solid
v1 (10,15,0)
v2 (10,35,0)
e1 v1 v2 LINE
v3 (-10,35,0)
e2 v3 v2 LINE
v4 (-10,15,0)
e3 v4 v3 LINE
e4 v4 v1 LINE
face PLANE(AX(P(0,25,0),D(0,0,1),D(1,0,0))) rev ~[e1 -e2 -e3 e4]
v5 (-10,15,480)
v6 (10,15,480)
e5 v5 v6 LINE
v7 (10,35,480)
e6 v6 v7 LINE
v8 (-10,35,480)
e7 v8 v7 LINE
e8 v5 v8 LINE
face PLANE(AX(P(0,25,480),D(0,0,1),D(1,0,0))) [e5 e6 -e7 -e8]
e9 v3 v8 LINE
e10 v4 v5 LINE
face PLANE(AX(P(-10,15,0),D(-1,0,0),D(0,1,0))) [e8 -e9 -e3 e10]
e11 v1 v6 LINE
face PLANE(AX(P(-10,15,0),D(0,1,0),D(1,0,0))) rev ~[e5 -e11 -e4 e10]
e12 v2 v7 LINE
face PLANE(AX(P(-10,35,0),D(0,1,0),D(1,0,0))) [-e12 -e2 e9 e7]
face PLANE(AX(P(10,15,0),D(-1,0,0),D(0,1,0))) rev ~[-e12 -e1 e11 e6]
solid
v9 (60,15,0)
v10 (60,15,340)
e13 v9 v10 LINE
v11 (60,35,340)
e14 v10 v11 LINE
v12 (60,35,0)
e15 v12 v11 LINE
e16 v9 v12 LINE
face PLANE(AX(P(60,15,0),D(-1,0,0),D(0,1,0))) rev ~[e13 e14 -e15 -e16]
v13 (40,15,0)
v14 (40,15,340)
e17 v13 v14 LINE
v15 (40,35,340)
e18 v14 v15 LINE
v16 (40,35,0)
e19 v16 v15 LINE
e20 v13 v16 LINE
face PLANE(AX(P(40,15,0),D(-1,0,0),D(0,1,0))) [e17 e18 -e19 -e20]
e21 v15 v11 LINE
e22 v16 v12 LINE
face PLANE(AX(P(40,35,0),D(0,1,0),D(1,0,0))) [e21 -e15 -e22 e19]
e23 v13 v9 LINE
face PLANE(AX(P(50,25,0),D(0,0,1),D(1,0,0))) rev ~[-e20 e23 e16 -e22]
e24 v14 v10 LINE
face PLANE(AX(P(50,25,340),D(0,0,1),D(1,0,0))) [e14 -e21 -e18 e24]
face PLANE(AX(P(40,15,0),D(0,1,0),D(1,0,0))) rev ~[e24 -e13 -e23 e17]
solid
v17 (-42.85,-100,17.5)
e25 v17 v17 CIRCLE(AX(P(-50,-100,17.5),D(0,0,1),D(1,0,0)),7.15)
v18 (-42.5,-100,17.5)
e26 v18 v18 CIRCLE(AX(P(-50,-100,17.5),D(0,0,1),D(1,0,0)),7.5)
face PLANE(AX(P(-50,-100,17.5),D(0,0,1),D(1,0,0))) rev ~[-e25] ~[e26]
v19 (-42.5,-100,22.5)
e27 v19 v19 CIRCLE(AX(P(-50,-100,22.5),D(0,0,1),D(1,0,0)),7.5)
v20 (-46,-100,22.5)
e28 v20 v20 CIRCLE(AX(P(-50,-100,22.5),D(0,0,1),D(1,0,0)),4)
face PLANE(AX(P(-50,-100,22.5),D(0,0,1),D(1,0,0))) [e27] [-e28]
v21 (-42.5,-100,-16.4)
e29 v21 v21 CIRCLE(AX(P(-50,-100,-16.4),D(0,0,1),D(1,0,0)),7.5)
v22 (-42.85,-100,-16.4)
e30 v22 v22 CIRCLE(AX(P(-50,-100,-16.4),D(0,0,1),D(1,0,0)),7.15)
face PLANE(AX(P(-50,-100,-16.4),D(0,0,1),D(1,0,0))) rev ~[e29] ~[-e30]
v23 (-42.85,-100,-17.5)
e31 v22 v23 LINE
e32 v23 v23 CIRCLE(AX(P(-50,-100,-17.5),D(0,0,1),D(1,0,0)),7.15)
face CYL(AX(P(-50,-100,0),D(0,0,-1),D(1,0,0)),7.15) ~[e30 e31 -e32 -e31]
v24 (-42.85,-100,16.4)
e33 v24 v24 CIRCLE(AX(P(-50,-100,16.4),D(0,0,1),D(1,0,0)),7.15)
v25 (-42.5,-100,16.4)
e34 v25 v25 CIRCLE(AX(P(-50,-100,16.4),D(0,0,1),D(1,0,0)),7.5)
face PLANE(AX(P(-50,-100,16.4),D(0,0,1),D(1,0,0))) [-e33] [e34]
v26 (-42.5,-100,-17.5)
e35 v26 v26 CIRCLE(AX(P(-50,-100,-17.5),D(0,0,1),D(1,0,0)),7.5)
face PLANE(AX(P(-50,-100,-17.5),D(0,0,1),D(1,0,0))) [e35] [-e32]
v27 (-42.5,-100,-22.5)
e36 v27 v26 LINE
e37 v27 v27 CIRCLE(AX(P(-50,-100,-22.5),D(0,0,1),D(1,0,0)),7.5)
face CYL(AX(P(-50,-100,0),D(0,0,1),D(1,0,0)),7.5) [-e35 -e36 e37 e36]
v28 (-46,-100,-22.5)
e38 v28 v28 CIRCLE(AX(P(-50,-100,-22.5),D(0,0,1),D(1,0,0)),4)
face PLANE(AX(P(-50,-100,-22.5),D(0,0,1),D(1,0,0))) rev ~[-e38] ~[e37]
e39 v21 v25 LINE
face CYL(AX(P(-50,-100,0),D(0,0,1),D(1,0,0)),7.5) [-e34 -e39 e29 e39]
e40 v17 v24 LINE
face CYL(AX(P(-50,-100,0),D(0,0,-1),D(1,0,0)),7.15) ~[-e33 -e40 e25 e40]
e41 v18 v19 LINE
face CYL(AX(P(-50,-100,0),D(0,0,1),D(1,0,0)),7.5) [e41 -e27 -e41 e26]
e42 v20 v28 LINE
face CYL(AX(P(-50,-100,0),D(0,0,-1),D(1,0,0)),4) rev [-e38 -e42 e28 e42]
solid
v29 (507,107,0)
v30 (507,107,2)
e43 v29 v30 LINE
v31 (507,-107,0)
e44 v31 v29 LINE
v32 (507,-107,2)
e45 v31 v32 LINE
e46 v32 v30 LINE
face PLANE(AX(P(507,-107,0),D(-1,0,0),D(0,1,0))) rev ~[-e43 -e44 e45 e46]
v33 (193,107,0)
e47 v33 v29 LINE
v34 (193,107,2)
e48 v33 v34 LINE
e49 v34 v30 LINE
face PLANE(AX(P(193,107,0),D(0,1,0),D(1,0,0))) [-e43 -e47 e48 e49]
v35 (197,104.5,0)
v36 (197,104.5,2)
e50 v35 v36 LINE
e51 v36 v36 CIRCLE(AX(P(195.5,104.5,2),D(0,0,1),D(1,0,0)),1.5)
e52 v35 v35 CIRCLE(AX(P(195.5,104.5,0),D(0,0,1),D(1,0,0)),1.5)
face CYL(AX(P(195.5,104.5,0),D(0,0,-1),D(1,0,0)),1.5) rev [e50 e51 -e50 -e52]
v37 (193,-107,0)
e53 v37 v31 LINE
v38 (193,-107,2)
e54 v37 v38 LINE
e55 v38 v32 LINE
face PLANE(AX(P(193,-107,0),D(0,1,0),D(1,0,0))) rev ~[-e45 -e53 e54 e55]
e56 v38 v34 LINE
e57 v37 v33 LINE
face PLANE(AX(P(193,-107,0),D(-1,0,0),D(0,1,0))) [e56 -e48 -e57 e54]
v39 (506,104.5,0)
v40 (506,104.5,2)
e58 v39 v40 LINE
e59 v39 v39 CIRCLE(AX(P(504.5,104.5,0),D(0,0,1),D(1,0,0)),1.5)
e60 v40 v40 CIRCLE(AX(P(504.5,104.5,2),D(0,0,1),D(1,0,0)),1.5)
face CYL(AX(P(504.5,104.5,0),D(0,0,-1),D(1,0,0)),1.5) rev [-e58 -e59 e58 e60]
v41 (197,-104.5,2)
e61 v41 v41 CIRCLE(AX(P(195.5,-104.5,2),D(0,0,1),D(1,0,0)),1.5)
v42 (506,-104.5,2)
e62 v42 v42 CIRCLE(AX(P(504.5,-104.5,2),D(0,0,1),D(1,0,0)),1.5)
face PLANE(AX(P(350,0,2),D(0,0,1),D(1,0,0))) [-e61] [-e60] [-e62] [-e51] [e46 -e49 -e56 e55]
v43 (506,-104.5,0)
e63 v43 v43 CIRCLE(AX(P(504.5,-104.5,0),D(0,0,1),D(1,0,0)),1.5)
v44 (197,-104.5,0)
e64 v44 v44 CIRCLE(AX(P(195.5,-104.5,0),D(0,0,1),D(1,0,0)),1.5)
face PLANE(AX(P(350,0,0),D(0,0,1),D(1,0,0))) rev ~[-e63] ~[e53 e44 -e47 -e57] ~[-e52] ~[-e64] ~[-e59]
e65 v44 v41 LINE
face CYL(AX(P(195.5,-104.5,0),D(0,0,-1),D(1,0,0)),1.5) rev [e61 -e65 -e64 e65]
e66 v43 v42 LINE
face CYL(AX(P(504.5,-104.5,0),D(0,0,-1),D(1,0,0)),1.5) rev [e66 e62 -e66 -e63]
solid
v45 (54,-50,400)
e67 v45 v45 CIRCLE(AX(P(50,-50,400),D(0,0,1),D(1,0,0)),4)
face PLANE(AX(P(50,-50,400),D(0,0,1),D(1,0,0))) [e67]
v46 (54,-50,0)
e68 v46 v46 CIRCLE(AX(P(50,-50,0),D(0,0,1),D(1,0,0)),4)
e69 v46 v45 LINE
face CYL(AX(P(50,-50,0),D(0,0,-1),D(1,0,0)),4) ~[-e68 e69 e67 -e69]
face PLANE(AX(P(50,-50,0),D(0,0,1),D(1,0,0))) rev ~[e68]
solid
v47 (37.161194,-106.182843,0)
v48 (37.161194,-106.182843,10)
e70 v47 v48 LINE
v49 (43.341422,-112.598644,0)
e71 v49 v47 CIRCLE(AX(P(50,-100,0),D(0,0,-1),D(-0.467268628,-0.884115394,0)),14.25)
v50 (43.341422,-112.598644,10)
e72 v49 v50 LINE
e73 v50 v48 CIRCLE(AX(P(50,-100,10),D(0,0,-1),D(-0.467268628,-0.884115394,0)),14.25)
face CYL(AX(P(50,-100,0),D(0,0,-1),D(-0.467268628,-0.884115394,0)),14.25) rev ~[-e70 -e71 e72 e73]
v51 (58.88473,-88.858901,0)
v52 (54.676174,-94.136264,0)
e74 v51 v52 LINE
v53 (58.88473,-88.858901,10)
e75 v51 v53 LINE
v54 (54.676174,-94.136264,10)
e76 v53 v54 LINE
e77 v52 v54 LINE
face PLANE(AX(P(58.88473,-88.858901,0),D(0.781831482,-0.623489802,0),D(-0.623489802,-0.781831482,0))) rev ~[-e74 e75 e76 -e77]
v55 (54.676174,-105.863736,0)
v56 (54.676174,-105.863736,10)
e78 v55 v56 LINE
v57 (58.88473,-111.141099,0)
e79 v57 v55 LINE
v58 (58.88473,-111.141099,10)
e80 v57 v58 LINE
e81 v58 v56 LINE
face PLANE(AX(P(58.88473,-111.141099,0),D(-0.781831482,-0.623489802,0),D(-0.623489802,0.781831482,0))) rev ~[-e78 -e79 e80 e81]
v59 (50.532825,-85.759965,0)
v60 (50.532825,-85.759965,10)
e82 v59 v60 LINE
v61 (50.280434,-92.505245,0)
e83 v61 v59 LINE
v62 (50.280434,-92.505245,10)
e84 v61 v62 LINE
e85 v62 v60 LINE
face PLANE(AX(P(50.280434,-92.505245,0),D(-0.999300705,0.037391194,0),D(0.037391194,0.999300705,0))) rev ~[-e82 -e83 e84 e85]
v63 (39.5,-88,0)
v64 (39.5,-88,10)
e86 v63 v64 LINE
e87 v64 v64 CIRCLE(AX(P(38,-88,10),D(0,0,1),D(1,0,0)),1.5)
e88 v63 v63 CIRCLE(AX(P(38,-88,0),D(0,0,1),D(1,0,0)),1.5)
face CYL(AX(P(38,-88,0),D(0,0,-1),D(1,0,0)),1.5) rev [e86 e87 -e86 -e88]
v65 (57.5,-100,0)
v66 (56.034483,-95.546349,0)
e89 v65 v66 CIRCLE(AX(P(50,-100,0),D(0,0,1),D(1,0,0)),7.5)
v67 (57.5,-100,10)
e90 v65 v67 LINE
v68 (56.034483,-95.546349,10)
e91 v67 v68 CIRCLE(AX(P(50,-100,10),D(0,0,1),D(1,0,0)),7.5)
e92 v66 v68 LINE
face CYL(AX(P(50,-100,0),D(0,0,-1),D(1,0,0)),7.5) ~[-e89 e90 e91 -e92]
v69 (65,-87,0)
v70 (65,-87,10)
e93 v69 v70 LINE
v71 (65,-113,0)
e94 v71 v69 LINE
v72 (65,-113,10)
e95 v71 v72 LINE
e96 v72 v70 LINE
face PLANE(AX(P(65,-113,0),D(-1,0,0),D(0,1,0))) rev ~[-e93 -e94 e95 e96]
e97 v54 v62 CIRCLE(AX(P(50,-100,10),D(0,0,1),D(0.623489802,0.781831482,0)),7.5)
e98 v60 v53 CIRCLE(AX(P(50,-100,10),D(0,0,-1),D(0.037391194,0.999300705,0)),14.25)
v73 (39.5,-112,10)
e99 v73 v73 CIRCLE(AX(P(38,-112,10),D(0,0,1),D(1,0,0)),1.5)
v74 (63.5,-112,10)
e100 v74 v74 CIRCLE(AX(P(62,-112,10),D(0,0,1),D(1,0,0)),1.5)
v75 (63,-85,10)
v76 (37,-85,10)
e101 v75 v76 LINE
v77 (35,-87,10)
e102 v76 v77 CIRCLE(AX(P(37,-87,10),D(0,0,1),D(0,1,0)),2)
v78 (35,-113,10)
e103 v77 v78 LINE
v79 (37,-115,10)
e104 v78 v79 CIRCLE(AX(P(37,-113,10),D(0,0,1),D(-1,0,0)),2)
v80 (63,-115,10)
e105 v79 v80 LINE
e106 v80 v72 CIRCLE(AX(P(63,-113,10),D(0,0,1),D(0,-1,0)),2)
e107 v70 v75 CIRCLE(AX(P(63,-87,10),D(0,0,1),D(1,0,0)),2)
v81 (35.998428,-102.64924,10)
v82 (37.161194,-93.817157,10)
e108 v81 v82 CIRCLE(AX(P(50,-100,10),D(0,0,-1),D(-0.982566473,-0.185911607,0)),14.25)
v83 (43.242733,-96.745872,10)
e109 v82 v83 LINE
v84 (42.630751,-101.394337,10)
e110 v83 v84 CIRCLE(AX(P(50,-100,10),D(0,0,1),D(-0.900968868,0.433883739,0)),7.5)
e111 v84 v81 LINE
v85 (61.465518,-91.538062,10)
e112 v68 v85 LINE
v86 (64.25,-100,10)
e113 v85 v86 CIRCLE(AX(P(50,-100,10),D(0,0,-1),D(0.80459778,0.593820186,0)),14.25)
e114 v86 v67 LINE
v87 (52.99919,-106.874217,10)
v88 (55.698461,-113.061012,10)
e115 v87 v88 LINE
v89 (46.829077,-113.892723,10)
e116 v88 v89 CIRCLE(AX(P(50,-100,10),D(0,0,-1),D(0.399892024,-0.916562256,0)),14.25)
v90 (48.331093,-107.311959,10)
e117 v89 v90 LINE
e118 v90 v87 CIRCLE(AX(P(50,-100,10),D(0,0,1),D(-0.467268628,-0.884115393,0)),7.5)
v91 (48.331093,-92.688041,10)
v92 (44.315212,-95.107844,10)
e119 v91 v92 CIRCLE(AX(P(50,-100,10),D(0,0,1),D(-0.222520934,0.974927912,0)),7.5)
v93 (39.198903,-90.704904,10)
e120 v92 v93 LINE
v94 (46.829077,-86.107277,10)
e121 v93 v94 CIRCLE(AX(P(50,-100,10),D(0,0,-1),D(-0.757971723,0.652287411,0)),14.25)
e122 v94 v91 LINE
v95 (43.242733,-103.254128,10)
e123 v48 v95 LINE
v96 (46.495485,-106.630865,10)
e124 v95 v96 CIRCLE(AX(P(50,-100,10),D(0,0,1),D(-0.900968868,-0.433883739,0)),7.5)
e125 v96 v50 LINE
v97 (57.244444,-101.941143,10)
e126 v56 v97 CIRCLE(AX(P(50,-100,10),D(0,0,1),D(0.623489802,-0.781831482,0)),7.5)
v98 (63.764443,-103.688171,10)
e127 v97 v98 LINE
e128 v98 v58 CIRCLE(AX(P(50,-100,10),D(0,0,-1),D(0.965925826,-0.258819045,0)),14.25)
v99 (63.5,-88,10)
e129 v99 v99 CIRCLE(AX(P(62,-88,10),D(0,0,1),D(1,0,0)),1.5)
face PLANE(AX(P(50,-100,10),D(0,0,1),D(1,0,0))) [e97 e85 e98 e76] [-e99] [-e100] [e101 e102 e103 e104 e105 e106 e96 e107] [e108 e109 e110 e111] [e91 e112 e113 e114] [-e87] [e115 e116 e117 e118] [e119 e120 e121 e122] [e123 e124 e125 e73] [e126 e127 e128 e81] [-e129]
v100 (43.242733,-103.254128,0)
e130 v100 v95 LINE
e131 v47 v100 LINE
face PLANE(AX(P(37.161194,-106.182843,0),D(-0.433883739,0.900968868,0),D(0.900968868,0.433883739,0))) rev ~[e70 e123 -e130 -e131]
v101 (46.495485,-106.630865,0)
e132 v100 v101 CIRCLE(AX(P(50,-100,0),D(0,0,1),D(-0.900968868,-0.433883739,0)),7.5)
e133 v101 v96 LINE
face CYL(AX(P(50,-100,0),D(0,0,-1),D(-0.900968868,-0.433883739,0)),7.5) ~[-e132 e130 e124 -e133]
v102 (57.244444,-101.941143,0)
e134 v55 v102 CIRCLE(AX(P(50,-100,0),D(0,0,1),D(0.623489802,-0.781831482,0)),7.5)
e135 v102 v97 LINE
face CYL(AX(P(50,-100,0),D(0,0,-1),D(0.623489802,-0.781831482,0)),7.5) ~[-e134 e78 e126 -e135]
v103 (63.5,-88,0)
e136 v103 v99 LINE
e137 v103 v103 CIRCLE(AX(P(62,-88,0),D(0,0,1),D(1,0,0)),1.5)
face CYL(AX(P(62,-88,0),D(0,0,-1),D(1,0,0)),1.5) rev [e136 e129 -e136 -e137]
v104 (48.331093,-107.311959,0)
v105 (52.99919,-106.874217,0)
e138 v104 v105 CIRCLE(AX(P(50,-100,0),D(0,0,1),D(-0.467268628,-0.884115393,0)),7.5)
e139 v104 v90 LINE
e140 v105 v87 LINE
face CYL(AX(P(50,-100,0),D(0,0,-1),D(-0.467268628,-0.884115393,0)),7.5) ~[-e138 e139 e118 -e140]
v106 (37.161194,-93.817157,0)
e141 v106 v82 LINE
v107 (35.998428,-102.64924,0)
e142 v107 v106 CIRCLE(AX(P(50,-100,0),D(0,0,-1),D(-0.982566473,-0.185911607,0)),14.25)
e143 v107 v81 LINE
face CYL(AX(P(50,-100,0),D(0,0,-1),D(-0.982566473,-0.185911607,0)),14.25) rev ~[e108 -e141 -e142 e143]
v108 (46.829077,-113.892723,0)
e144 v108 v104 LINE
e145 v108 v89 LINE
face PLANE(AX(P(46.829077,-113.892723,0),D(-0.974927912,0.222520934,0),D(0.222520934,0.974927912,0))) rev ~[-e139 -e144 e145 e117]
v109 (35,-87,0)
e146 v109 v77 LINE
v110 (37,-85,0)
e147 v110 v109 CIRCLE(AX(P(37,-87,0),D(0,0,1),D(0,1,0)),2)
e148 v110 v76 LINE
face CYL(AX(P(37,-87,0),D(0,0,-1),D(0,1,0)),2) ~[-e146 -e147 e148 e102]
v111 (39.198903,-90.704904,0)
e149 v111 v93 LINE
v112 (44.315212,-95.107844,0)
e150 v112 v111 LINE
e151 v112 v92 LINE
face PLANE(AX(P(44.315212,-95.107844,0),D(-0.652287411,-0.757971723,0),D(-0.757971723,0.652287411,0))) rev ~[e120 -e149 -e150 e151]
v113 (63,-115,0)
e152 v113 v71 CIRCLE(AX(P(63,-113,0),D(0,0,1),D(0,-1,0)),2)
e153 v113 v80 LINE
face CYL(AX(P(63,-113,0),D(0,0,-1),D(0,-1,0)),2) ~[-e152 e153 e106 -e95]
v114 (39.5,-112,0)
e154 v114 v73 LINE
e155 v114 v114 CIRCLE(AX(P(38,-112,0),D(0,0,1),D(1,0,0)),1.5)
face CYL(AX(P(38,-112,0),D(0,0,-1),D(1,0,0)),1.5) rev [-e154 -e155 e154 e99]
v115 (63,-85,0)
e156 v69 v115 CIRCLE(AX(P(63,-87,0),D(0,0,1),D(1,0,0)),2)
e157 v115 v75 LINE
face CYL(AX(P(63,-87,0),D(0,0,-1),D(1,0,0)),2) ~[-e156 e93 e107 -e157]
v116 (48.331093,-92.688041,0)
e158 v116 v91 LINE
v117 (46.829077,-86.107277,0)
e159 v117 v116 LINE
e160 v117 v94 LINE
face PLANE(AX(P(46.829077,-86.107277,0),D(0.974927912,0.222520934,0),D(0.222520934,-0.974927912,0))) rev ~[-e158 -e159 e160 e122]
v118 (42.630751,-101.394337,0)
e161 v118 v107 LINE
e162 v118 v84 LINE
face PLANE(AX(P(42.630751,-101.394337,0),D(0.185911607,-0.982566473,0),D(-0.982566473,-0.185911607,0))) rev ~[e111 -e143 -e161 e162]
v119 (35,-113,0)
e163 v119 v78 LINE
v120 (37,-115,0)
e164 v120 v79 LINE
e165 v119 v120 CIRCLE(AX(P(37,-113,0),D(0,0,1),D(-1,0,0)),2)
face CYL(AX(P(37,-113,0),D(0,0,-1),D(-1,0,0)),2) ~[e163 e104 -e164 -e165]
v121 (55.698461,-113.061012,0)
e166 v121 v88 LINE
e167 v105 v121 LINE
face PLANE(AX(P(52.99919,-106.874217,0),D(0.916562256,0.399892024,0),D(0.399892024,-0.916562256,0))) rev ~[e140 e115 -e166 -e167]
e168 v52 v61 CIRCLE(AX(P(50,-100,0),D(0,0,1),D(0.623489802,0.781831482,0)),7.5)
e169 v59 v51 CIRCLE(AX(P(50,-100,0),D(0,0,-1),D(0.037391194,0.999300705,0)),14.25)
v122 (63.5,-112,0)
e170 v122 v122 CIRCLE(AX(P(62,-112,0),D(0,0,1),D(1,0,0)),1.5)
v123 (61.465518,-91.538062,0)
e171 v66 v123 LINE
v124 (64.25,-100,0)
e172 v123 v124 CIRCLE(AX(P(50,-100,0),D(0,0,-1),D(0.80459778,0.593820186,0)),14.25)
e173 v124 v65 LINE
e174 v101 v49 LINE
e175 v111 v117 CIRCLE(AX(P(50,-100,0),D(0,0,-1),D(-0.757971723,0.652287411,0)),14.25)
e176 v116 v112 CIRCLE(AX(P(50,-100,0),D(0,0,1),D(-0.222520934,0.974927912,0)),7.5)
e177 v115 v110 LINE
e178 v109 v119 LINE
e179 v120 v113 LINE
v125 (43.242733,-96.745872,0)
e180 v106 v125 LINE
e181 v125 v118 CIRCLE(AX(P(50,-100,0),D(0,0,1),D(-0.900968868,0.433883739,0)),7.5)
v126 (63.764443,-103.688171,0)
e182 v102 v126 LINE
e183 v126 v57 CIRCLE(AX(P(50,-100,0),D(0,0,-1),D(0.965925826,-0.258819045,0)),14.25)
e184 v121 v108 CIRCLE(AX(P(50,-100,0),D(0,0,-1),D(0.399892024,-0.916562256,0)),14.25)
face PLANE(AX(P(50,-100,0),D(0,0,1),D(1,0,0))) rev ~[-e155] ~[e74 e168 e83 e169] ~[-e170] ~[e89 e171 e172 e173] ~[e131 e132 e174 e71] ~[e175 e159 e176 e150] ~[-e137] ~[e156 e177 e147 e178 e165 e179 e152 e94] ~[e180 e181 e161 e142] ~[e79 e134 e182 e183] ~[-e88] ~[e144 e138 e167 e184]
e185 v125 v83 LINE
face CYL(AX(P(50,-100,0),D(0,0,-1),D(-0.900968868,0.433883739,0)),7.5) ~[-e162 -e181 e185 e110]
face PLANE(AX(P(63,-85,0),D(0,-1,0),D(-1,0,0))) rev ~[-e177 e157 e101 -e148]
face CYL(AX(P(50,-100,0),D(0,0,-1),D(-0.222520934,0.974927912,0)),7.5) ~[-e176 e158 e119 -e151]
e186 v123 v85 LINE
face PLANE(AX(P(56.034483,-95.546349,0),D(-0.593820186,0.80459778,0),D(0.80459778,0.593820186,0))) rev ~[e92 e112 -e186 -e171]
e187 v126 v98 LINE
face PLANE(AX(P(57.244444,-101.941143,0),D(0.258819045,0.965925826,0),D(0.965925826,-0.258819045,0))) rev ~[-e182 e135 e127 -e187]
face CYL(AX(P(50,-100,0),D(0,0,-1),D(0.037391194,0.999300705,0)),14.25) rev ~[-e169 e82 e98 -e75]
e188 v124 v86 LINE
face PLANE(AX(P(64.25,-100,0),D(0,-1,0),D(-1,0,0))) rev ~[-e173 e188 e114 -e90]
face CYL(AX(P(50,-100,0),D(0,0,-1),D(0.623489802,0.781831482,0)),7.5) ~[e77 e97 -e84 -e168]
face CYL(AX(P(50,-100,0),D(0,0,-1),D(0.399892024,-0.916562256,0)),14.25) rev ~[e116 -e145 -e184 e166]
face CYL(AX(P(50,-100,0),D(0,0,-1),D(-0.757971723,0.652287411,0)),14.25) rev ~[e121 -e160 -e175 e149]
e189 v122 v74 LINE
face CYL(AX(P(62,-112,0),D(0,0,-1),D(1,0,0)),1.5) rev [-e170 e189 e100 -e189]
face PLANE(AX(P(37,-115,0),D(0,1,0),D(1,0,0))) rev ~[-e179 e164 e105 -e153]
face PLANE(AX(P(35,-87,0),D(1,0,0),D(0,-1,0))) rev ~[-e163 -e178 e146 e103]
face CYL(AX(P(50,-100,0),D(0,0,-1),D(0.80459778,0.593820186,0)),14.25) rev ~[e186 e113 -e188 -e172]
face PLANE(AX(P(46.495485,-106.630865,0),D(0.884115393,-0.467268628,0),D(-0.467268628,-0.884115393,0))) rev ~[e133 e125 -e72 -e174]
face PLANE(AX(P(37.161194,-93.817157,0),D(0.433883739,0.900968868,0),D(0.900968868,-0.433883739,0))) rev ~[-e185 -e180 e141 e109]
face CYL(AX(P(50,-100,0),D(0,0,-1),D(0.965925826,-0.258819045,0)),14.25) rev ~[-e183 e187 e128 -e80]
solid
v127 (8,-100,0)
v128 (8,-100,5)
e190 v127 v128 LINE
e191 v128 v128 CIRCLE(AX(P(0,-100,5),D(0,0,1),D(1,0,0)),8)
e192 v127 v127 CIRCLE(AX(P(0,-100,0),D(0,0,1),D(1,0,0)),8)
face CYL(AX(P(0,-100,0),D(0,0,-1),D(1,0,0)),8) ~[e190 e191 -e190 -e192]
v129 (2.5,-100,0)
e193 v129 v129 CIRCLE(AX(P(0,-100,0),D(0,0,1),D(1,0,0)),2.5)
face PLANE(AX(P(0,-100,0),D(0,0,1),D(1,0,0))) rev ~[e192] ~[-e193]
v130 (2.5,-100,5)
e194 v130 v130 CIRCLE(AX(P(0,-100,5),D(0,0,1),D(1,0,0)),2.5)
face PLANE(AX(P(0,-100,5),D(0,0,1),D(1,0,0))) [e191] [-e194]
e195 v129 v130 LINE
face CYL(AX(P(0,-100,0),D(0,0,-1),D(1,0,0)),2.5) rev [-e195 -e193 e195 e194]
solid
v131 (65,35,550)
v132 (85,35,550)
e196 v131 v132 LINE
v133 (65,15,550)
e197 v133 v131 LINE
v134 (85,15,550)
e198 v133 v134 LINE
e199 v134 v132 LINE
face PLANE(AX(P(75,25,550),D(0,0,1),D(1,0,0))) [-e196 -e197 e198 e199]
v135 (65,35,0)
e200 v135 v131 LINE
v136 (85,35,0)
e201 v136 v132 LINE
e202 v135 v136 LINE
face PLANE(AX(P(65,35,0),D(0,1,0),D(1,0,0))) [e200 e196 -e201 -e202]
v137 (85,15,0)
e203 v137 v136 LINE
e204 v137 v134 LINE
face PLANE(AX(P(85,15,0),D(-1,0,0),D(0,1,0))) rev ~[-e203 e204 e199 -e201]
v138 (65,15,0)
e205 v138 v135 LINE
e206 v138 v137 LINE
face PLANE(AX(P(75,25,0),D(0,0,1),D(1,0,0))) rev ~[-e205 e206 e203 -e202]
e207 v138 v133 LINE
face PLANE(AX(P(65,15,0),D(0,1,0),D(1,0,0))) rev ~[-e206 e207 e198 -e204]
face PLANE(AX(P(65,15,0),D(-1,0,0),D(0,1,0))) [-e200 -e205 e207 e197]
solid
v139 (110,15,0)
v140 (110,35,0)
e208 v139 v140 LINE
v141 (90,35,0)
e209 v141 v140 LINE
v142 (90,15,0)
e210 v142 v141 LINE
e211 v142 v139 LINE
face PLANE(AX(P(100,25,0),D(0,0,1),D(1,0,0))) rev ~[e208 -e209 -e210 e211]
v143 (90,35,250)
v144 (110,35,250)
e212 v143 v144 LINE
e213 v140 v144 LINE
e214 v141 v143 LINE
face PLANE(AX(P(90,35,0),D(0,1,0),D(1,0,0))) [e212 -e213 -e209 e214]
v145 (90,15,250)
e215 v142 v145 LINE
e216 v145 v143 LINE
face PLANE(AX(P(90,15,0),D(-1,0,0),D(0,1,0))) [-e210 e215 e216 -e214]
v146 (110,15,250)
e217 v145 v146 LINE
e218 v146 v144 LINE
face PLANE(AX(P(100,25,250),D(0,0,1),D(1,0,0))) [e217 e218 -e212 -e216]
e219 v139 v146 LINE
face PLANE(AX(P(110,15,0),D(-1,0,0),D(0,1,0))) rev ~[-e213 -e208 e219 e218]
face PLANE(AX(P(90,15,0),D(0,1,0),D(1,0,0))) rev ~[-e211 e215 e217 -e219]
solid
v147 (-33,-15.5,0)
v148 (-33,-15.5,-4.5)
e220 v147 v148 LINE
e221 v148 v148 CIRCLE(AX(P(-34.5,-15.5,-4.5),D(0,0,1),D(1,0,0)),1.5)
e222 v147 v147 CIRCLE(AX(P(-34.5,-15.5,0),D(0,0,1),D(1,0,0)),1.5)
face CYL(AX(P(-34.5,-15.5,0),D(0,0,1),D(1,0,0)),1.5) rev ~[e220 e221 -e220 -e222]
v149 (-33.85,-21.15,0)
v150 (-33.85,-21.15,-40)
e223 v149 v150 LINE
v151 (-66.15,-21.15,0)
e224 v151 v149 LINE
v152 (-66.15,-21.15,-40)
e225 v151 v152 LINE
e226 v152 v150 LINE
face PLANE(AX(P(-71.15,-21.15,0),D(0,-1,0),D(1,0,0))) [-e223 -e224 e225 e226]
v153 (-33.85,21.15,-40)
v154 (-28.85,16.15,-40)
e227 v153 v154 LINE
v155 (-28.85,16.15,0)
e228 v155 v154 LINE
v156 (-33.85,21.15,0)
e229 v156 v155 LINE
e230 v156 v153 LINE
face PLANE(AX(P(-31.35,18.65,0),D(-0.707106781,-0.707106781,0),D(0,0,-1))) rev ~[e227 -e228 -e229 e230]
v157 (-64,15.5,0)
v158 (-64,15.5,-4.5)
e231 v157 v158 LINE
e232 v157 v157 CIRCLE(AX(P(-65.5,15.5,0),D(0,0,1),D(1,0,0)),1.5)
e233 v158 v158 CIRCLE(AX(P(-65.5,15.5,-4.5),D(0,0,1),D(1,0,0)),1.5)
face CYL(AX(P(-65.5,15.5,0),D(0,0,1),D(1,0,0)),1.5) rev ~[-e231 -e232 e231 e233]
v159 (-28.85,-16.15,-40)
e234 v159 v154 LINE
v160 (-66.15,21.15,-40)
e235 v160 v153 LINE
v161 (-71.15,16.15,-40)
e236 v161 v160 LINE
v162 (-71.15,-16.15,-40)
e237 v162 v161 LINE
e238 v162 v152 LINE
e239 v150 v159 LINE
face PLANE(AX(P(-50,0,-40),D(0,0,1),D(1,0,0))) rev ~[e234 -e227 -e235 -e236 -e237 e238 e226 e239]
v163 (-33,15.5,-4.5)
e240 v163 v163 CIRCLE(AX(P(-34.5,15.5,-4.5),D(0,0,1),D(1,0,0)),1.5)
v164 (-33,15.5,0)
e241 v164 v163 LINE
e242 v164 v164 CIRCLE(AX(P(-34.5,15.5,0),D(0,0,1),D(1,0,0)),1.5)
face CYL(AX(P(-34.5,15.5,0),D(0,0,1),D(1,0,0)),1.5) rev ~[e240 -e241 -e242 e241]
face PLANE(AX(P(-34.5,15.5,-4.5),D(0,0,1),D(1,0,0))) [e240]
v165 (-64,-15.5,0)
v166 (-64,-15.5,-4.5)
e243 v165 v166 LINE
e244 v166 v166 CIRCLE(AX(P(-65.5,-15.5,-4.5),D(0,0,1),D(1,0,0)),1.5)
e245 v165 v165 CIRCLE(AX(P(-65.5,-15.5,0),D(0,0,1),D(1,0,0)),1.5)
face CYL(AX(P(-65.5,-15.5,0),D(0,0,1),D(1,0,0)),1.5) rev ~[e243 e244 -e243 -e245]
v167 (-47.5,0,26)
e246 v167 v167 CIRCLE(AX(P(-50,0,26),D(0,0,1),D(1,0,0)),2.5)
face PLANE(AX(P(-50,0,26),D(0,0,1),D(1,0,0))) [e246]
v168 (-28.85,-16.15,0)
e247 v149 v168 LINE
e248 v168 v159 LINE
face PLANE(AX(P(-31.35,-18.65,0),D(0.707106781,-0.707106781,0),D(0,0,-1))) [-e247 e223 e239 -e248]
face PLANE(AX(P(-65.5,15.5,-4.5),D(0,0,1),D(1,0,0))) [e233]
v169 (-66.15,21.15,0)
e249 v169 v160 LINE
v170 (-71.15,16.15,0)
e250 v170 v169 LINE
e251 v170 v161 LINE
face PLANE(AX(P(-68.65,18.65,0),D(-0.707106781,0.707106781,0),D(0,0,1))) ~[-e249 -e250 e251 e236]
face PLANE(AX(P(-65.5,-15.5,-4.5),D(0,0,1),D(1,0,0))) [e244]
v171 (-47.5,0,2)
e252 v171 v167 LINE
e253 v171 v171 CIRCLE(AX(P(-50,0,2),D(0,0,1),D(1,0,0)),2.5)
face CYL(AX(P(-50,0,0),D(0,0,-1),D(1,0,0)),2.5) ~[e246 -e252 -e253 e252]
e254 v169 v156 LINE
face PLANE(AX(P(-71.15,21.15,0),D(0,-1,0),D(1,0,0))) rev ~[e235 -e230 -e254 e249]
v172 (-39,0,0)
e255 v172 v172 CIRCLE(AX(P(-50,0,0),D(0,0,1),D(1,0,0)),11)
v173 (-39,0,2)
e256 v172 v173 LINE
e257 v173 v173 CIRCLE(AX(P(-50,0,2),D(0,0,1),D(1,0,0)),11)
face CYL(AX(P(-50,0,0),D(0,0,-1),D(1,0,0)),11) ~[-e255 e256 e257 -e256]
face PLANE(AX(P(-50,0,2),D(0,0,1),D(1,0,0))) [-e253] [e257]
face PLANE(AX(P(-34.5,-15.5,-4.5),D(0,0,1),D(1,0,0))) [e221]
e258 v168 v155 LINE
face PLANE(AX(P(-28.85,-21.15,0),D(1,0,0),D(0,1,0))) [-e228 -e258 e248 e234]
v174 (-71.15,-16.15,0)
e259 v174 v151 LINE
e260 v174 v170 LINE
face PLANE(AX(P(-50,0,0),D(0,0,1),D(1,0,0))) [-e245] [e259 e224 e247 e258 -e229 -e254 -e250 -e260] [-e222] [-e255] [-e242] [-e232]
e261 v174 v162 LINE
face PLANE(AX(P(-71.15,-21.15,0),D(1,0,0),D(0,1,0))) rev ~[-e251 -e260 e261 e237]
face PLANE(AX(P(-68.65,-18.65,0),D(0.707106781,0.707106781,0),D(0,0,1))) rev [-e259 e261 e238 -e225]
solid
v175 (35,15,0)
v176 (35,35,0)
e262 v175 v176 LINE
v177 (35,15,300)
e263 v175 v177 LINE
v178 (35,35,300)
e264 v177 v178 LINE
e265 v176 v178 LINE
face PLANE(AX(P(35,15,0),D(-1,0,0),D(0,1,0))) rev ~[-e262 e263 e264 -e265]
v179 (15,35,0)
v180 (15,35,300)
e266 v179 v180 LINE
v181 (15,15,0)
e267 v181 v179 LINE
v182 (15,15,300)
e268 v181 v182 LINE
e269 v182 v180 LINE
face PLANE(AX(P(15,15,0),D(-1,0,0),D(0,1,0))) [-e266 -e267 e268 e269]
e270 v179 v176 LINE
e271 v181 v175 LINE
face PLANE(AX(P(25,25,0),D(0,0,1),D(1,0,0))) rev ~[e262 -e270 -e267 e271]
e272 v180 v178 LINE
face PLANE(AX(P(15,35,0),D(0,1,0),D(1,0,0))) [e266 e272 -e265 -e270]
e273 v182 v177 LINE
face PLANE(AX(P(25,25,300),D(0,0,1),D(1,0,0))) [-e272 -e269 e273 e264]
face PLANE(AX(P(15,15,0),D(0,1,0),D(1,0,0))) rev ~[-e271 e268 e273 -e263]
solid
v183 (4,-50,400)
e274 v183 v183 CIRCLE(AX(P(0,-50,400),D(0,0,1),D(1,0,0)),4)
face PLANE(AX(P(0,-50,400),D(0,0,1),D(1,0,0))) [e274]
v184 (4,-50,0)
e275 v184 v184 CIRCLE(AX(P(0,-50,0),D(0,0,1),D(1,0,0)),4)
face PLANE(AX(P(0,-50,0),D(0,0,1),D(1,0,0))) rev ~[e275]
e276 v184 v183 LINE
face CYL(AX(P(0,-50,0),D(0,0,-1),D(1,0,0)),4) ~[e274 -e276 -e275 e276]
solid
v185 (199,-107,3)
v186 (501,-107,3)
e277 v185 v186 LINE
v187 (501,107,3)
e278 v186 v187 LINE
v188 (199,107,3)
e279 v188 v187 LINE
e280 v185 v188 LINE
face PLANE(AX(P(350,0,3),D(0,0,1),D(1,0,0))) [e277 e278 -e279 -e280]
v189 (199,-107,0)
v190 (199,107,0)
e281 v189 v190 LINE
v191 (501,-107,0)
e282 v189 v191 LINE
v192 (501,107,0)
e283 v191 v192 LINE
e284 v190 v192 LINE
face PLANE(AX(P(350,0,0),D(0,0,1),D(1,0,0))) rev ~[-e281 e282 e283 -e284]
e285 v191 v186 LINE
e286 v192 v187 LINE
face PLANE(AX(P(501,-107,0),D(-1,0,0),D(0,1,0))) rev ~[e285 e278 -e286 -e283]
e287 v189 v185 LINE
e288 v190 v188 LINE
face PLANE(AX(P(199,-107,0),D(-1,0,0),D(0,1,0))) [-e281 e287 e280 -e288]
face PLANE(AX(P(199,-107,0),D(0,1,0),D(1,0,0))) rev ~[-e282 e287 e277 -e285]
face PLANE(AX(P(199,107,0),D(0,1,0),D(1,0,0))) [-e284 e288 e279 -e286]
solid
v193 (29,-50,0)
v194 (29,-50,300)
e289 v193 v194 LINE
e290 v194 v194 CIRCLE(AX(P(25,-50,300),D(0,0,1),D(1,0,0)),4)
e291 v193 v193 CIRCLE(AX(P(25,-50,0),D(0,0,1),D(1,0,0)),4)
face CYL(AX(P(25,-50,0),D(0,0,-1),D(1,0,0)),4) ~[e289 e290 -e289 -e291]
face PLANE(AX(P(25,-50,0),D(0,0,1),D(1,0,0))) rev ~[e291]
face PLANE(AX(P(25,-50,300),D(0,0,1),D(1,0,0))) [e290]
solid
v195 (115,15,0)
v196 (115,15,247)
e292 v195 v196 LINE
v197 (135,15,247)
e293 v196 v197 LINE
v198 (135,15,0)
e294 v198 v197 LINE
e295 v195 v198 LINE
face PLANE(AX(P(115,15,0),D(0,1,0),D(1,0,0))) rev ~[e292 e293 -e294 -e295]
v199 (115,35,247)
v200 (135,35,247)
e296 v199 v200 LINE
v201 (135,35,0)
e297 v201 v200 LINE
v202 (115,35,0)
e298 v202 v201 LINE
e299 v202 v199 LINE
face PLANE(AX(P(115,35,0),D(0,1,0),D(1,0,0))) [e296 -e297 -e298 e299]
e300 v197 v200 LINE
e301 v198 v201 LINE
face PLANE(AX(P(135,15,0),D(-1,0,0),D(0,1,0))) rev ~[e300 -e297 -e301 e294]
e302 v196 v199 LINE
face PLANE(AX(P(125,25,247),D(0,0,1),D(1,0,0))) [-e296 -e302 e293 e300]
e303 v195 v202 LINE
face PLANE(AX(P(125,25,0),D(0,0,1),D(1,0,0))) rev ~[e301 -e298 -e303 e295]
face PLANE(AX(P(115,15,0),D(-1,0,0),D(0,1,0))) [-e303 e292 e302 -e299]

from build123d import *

# Parameters (mm, degrees)
F3_W      = 20
F3_H      = 20
F4_DEPTH  = 480
F5_DEPTH  = 300
F6_DEPTH  = 340
F7_DEPTH  = 550
F8_R      = 4
F9_DEPTH  = 400
F10_DEPTH = 300
F11_DEPTH = 400
F12_R     = 8
F12_R_2   = 2.5
F13_DEPTH = 5
F12_R_3   = 1.5
F14_DEPTH = 10
F15_DEPTH = 250
F16_DEPTH = 247
F12_R_4   = 7.5
F12_R_5   = 7.15
F12_R_6   = 4
F17_DEPTH = 22.5
F18_DEPTH = 17.5
F19_DEPTH = 16.4
F20_W     = 42.3
F20_H     = 42.3
F20_R     = 1.5
F20_R_2   = 11
F20_R_3   = 2.5
F21_DEPTH = 40
F22_DEPTH = 2
F23_DEPTH = 26
F24_START = -4.5
F24_DEPTH = 35.5
F25_SIZE  = 5
F26_W     = 314
F26_H     = 214
F26_R     = 1.5
F27_DEPTH = 2
F28_W     = 302
F28_H     = 214
F29_DEPTH = 3


with BuildPart() as f4:
    # F3 (on Top) → F4 (new body)
    with BuildSketch(Plane.XY):
        with Locations((0, 25)):
            Rectangle(F3_W, F3_H)
    extrude(amount=F4_DEPTH)


with BuildPart() as f5:
    # F3 (on Top) → F5 (new body)
    with BuildSketch(Plane.XY):
        with Locations((25, 25)):
            Rectangle(F3_W, F3_H)
    extrude(amount=F5_DEPTH)


with BuildPart() as f6:
    # F3 (on Top) → F6 (new body)
    with BuildSketch(Plane.XY):
        with Locations((50, 25)):
            Rectangle(F3_W, F3_H)
    extrude(amount=F6_DEPTH)


with BuildPart() as f7:
    # F3 (on Top) → F7 (new body)
    with BuildSketch(Plane.XY):
        with Locations((75, 25)):
            Rectangle(F3_W, F3_H)
    extrude(amount=F7_DEPTH)


with BuildPart() as f9:
    # F8 (on Top) → F9 (new body)
    with BuildSketch(Plane.XY):
        with Locations((0, -50)):
            Circle(F8_R)
    extrude(amount=F9_DEPTH)


with BuildPart() as f10:
    # F8 (on Top) → F10 (new body)
    with BuildSketch(Plane.XY):
        with Locations((25, -50)):
            Circle(F8_R)
    extrude(amount=F10_DEPTH)


with BuildPart() as f11:
    # F8 (on Top) → F11 (new body)
    with BuildSketch(Plane.XY):
        with Locations((50, -50)):
            Circle(F8_R)
    extrude(amount=F11_DEPTH)


with BuildPart() as f13:
    # F12 (on Top) → F13 (new body)
    with BuildSketch(Plane.XY):
        with Locations((0, -100)):
            Circle(F12_R)
        with Locations((0, -100)):
            Circle(F12_R_2, mode=Mode.SUBTRACT)
    extrude(amount=F13_DEPTH)


with BuildPart() as f14:
    # F12 (on Top) → F14 (new body)
    with BuildSketch(Plane.XY):
        with BuildLine():
            Line((37, -115), (63, -115))
            ThreePointArc((63, -115), (64.4142135624, -114.4142135624), (65, -113))
            Line((65, -113), (65, -87))
            ThreePointArc((65, -87), (64.4142135624, -85.5857864376), (63, -85))
            Line((63, -85), (37, -85))
            ThreePointArc((37, -85), (35.5857864376, -85.5857864376), (35, -87))
            Line((35, -87), (35, -113))
            ThreePointArc((35, -113), (35.5857864376, -114.4142135624), (37, -115))
        make_face()
        with Locations((38, -112)):
            Circle(F12_R_3, mode=Mode.SUBTRACT)
        with Locations((62, -112)):
            Circle(F12_R_3, mode=Mode.SUBTRACT)
        with BuildLine():
            ThreePointArc((61.4655183617, -91.5380623556), (63.5359915901, -95.5458523068), (64.25, -100))
            ThreePointArc((64.25, -100), (64.1280892746, -101.8599982391), (63.7644430246, -103.6881713927))
            ThreePointArc((63.7644430246, -103.6881713927), (61.9219456086, -107.8057487089), (58.8847296765, -111.1410986252))
            ThreePointArc((58.8847296765, -111.1410986252), (57.3545144018, -112.2054749156), (55.6984613466, -113.0610121461))
            ThreePointArc((55.6984613466, -113.0610121461), (51.3304314205, -114.1877571249), (46.8290766911, -113.8927227486))
            ThreePointArc((46.8290766911, -113.8927227486), (45.0428401797, -113.3599800343), (43.3414220471, -112.5986443574))
            ThreePointArc((43.3414220471, -112.5986443574), (39.7370752369, -109.8860950484), (37.1611936324, -106.1828432824))
            ThreePointArc((37.1611936324, -106.1828432824), (36.4640084099, -104.4541476932), (35.9984277564, -102.6492404021))
            ThreePointArc((35.9984277564, -102.6492404021), (35.8719107254, -98.1400017609), (37.1611936324, -93.8171567176))
            ThreePointArc((37.1611936324, -93.8171567176), (38.0780543914, -92.1942512911), (39.1989029452, -90.7049043893))
            ThreePointArc((39.1989029452, -90.7049043893), (42.6454855982, -87.7945250844), (46.8290766911, -86.1072772514))
            ThreePointArc((46.8290766911, -86.1072772514), (48.6695685795, -85.8122428751), (50.5328245184, -85.7599649568))
            ThreePointArc((50.5328245184, -85.7599649568), (54.9571598203, -86.6400199657), (58.8847296765, -88.8589013748))
            ThreePointArc((58.8847296765, -88.8589013748), (60.2629247631, -90.1139049516), (61.4655183617, -91.5380623556))
        make_face(mode=Mode.SUBTRACT)
        with Locations((38, -88)):
            Circle(F12_R_3, mode=Mode.SUBTRACT)
        with Locations((62, -88)):
            Circle(F12_R_3, mode=Mode.SUBTRACT)
        with BuildLine():
            Line((50.2804339571, -92.5052447141), (50.5328245184, -85.7599649568))
            ThreePointArc((50.5328245184, -85.7599649568), (48.6695685795, -85.8122428751), (46.8290766911, -86.1072772514))
            Line((46.8290766911, -86.1072772514), (48.3310929953, -92.6880406586))
            ThreePointArc((48.3310929953, -92.6880406586), (49.2997729366, -92.5327594079), (50.2804339571, -92.5052447141))
        make_face()
        with BuildLine():
            Line((56.0344833483, -95.5463486082), (61.4655183617, -91.5380623556))
            ThreePointArc((61.4655183617, -91.5380623556), (60.2629247631, -90.1139049516), (58.8847296765, -88.8589013748))
            Line((58.8847296765, -88.8589013748), (54.6761735139, -94.1362638815))
            ThreePointArc((54.6761735139, -94.1362638815), (55.401539349, -94.7967920798), (56.0344833483, -95.5463486082))
        make_face()
        with BuildLine():
            ThreePointArc((63.7644430246, -103.6881713927), (64.1280892746, -101.8599982391), (64.25, -100))
            Line((64.25, -100), (57.5, -100))
            ThreePointArc((57.5, -100), (57.4358364603, -100.9789464417), (57.2444436972, -101.9411428383))
            Line((57.2444436972, -101.9411428383), (63.7644430246, -103.6881713927))
        make_face()
        with BuildLine():
            ThreePointArc((35.9984277564, -102.6492404021), (36.4640084099, -104.4541476932), (37.1611936324, -106.1828432824))
            Line((37.1611936324, -106.1828432824), (43.2427334907, -103.2541280434))
            ThreePointArc((43.2427334907, -103.2541280434), (42.8757939, -102.3442882596), (42.6307514508, -101.3943370537))
            Line((42.6307514508, -101.3943370537), (35.9984277564, -102.6492404021))
        make_face()
        with BuildLine():
            Line((44.3152120764, -95.1078444154), (39.1989029452, -90.7049043893))
            ThreePointArc((39.1989029452, -90.7049043893), (38.0780543914, -92.1942512911), (37.1611936324, -93.8171567176))
            Line((37.1611936324, -93.8171567176), (43.2427334907, -96.7458719566))
            ThreePointArc((43.2427334907, -96.7458719566), (43.725291785, -95.8917112059), (44.3152120764, -95.1078444154))
        make_face()
        with BuildLine():
            ThreePointArc((57.2444436972, -101.9411428383), (57.4358364603, -100.9789464417), (57.5, -100))
            ThreePointArc((57.5, -100), (57.1242061, -97.6557117404), (56.0344833483, -95.5463486082))
            ThreePointArc((56.0344833483, -95.5463486082), (55.401539349, -94.7967920798), (54.6761735139, -94.1362638815))
            ThreePointArc((54.6761735139, -94.1362638815), (52.6090314844, -92.9684315609), (50.2804339571, -92.5052447141))
            ThreePointArc((50.2804339571, -92.5052447141), (49.2997729366, -92.5327594079), (48.3310929953, -92.6880406586))
            ThreePointArc((48.3310929953, -92.6880406586), (46.1292029464, -93.5760658339), (44.3152120764, -95.1078444154))
            ThreePointArc((44.3152120764, -95.1078444154), (43.725291785, -95.8917112059), (43.2427334907, -96.7458719566))
            ThreePointArc((43.2427334907, -96.7458719566), (42.5641635397, -99.0210535583), (42.6307514508, -101.3943370537))
            ThreePointArc((42.6307514508, -101.3943370537), (42.8757939, -102.3442882596), (43.2427334907, -103.2541280434))
            ThreePointArc((43.2427334907, -103.2541280434), (44.598460651, -105.2032079202), (46.495485288, -106.6308654513))
            ThreePointArc((46.495485288, -106.6308654513), (47.3909685156, -107.0315684391), (48.3310929953, -107.3119593414))
            ThreePointArc((48.3310929953, -107.3119593414), (50.7002270634, -107.4672405921), (52.9991901824, -106.874216919))
            ThreePointArc((52.9991901824, -106.874216919), (53.8707970536, -106.4239341661), (54.6761735139, -105.8637361185))
            ThreePointArc((54.6761735139, -105.8637361185), (56.274708215, -104.1082887941), (57.2444436972, -101.9411428383))
        make_face()
        with BuildLine():
            ThreePointArc((43.3414220471, -112.5986443574), (45.0428401797, -113.3599800343), (46.8290766911, -113.8927227486))
            Line((46.8290766911, -113.8927227486), (48.3310929953, -107.3119593414))
            ThreePointArc((48.3310929953, -107.3119593414), (47.3909685156, -107.0315684391), (46.495485288, -106.6308654513))
            Line((46.495485288, -106.6308654513), (43.3414220471, -112.5986443574))
        make_face()
        with BuildLine():
            ThreePointArc((55.6984613466, -113.0610121461), (57.3545144018, -112.2054749156), (58.8847296765, -111.1410986252))
            Line((58.8847296765, -111.1410986252), (54.6761735139, -105.8637361185))
            ThreePointArc((54.6761735139, -105.8637361185), (53.8707970536, -106.4239341661), (52.9991901824, -106.874216919))
            Line((52.9991901824, -106.874216919), (55.6984613466, -113.0610121461))
        make_face()
    extrude(amount=F14_DEPTH)


with BuildPart() as f15:
    # F3 (on Top) → F15 (new body)
    with BuildSketch(Plane.XY):
        with Locations((100, 25)):
            Rectangle(F3_W, F3_H)
    extrude(amount=F15_DEPTH)


with BuildPart() as f16:
    # F3 (on Top) → F16 (new body)
    with BuildSketch(Plane.XY):
        with Locations((125, 25)):
            Rectangle(F3_W, F3_H)
    extrude(amount=F16_DEPTH)


with BuildPart() as f17:
    # F12 (on Top) → F17 (new body, symmetric)
    with BuildSketch(Plane.XY):
        with Locations((-50, -100)):
            Circle(F12_R_4)
        with Locations((-50, -100)):
            Circle(F12_R_5, mode=Mode.SUBTRACT)
        with Locations((-50, -100)):
            Circle(F12_R_5)
        with Locations((-50, -100)):
            Circle(F12_R_6, mode=Mode.SUBTRACT)
    extrude(amount=F17_DEPTH, both=True)

    # F12 (on Top) → F18 (cut, symmetric)
    with BuildSketch(Plane.XY):
        with Locations((-50, -100)):
            Circle(F12_R_4)
        with Locations((-50, -100)):
            Circle(F12_R_5, mode=Mode.SUBTRACT)
    extrude(amount=F18_DEPTH, both=True, mode=Mode.SUBTRACT)

    # F12 (on Top) → F19 (join, symmetric)
    with BuildSketch(Plane.XY):
        with Locations((-50, -100)):
            Circle(F12_R_4)
        with Locations((-50, -100)):
            Circle(F12_R_5, mode=Mode.SUBTRACT)
    extrude(amount=F19_DEPTH, both=True)


with BuildPart() as f21:
    # F20 (on Top) → F21 (new body)
    with BuildSketch(Plane.XY):
        with Locations((-50, 0)):
            Rectangle(F20_W, F20_H)
        with Locations((-65.5, -15.5)):
            Circle(F20_R, mode=Mode.SUBTRACT)
        with Locations((-34.5, -15.5)):
            Circle(F20_R, mode=Mode.SUBTRACT)
        with Locations((-65.5, 15.5)):
            Circle(F20_R, mode=Mode.SUBTRACT)
        with Locations((-50, 0)):
            Circle(F20_R_2, mode=Mode.SUBTRACT)
        with Locations((-34.5, 15.5)):
            Circle(F20_R, mode=Mode.SUBTRACT)
        with Locations((-50, 0)):
            Circle(F20_R_2)
        with Locations((-50, 0)):
            Circle(F20_R_3, mode=Mode.SUBTRACT)
        with Locations((-50, 0)):
            Circle(F20_R_3)
    extrude(amount=-F21_DEPTH)

    # F20 (on Top) → F22 (join)
    with BuildSketch(Plane.XY):
        with Locations((-50, 0)):
            Circle(F20_R_2)
        with Locations((-50, 0)):
            Circle(F20_R_3, mode=Mode.SUBTRACT)
    extrude(amount=F22_DEPTH)

    # F20 (on Top) → F23 (join)
    with BuildSketch(Plane.XY):
        with Locations((-50, 0)):
            Circle(F20_R_3)
    extrude(amount=F23_DEPTH)

    # F20 (on Top) → F24 (join)
    with BuildSketch(Plane.XY.offset(F24_START)):
        with Locations((-65.5, 15.5)):
            Circle(F20_R)
        with Locations((-34.5, 15.5)):
            Circle(F20_R)
        with Locations((-34.5, -15.5)):
            Circle(F20_R)
        with Locations((-65.5, -15.5)):
            Circle(F20_R)
    extrude(amount=-F24_DEPTH)

    # F25
    f25_edges = [f21.edges().sort_by_distance(p)[0] for p in [
        (-71.15, 21.15, -20),
        (-71.15, -21.15, -20),
        (-28.85, -21.15, -20),
        (-28.85, 21.15, -20),
    ]]
    chamfer(f25_edges, length=F25_SIZE)


with BuildPart() as f27:
    # F26 (on Top) → F27 (new body)
    with BuildSketch(Plane.XY):
        with Locations((350, 0)):
            Rectangle(F26_W, F26_H)
        with Locations((195.5, -104.5)):
            Circle(F26_R, mode=Mode.SUBTRACT)
        with Locations((504.5, -104.5)):
            Circle(F26_R, mode=Mode.SUBTRACT)
        with Locations((195.5, 104.5)):
            Circle(F26_R, mode=Mode.SUBTRACT)
        with Locations((504.5, 104.5)):
            Circle(F26_R, mode=Mode.SUBTRACT)
    extrude(amount=F27_DEPTH)


with BuildPart() as f29:
    # F28 (on Top) → F29 (new body)
    with BuildSketch(Plane.XY):
        with Locations((350, 0)):
            Rectangle(F28_W, F28_H)
    extrude(amount=F29_DEPTH)


solid = Compound([f4.part, f5.part, f6.part, f7.part, f9.part, f10.part, f11.part, f13.part, f14.part, f15.part, f16.part, f17.part, f21.part, f27.part, f29.part])
